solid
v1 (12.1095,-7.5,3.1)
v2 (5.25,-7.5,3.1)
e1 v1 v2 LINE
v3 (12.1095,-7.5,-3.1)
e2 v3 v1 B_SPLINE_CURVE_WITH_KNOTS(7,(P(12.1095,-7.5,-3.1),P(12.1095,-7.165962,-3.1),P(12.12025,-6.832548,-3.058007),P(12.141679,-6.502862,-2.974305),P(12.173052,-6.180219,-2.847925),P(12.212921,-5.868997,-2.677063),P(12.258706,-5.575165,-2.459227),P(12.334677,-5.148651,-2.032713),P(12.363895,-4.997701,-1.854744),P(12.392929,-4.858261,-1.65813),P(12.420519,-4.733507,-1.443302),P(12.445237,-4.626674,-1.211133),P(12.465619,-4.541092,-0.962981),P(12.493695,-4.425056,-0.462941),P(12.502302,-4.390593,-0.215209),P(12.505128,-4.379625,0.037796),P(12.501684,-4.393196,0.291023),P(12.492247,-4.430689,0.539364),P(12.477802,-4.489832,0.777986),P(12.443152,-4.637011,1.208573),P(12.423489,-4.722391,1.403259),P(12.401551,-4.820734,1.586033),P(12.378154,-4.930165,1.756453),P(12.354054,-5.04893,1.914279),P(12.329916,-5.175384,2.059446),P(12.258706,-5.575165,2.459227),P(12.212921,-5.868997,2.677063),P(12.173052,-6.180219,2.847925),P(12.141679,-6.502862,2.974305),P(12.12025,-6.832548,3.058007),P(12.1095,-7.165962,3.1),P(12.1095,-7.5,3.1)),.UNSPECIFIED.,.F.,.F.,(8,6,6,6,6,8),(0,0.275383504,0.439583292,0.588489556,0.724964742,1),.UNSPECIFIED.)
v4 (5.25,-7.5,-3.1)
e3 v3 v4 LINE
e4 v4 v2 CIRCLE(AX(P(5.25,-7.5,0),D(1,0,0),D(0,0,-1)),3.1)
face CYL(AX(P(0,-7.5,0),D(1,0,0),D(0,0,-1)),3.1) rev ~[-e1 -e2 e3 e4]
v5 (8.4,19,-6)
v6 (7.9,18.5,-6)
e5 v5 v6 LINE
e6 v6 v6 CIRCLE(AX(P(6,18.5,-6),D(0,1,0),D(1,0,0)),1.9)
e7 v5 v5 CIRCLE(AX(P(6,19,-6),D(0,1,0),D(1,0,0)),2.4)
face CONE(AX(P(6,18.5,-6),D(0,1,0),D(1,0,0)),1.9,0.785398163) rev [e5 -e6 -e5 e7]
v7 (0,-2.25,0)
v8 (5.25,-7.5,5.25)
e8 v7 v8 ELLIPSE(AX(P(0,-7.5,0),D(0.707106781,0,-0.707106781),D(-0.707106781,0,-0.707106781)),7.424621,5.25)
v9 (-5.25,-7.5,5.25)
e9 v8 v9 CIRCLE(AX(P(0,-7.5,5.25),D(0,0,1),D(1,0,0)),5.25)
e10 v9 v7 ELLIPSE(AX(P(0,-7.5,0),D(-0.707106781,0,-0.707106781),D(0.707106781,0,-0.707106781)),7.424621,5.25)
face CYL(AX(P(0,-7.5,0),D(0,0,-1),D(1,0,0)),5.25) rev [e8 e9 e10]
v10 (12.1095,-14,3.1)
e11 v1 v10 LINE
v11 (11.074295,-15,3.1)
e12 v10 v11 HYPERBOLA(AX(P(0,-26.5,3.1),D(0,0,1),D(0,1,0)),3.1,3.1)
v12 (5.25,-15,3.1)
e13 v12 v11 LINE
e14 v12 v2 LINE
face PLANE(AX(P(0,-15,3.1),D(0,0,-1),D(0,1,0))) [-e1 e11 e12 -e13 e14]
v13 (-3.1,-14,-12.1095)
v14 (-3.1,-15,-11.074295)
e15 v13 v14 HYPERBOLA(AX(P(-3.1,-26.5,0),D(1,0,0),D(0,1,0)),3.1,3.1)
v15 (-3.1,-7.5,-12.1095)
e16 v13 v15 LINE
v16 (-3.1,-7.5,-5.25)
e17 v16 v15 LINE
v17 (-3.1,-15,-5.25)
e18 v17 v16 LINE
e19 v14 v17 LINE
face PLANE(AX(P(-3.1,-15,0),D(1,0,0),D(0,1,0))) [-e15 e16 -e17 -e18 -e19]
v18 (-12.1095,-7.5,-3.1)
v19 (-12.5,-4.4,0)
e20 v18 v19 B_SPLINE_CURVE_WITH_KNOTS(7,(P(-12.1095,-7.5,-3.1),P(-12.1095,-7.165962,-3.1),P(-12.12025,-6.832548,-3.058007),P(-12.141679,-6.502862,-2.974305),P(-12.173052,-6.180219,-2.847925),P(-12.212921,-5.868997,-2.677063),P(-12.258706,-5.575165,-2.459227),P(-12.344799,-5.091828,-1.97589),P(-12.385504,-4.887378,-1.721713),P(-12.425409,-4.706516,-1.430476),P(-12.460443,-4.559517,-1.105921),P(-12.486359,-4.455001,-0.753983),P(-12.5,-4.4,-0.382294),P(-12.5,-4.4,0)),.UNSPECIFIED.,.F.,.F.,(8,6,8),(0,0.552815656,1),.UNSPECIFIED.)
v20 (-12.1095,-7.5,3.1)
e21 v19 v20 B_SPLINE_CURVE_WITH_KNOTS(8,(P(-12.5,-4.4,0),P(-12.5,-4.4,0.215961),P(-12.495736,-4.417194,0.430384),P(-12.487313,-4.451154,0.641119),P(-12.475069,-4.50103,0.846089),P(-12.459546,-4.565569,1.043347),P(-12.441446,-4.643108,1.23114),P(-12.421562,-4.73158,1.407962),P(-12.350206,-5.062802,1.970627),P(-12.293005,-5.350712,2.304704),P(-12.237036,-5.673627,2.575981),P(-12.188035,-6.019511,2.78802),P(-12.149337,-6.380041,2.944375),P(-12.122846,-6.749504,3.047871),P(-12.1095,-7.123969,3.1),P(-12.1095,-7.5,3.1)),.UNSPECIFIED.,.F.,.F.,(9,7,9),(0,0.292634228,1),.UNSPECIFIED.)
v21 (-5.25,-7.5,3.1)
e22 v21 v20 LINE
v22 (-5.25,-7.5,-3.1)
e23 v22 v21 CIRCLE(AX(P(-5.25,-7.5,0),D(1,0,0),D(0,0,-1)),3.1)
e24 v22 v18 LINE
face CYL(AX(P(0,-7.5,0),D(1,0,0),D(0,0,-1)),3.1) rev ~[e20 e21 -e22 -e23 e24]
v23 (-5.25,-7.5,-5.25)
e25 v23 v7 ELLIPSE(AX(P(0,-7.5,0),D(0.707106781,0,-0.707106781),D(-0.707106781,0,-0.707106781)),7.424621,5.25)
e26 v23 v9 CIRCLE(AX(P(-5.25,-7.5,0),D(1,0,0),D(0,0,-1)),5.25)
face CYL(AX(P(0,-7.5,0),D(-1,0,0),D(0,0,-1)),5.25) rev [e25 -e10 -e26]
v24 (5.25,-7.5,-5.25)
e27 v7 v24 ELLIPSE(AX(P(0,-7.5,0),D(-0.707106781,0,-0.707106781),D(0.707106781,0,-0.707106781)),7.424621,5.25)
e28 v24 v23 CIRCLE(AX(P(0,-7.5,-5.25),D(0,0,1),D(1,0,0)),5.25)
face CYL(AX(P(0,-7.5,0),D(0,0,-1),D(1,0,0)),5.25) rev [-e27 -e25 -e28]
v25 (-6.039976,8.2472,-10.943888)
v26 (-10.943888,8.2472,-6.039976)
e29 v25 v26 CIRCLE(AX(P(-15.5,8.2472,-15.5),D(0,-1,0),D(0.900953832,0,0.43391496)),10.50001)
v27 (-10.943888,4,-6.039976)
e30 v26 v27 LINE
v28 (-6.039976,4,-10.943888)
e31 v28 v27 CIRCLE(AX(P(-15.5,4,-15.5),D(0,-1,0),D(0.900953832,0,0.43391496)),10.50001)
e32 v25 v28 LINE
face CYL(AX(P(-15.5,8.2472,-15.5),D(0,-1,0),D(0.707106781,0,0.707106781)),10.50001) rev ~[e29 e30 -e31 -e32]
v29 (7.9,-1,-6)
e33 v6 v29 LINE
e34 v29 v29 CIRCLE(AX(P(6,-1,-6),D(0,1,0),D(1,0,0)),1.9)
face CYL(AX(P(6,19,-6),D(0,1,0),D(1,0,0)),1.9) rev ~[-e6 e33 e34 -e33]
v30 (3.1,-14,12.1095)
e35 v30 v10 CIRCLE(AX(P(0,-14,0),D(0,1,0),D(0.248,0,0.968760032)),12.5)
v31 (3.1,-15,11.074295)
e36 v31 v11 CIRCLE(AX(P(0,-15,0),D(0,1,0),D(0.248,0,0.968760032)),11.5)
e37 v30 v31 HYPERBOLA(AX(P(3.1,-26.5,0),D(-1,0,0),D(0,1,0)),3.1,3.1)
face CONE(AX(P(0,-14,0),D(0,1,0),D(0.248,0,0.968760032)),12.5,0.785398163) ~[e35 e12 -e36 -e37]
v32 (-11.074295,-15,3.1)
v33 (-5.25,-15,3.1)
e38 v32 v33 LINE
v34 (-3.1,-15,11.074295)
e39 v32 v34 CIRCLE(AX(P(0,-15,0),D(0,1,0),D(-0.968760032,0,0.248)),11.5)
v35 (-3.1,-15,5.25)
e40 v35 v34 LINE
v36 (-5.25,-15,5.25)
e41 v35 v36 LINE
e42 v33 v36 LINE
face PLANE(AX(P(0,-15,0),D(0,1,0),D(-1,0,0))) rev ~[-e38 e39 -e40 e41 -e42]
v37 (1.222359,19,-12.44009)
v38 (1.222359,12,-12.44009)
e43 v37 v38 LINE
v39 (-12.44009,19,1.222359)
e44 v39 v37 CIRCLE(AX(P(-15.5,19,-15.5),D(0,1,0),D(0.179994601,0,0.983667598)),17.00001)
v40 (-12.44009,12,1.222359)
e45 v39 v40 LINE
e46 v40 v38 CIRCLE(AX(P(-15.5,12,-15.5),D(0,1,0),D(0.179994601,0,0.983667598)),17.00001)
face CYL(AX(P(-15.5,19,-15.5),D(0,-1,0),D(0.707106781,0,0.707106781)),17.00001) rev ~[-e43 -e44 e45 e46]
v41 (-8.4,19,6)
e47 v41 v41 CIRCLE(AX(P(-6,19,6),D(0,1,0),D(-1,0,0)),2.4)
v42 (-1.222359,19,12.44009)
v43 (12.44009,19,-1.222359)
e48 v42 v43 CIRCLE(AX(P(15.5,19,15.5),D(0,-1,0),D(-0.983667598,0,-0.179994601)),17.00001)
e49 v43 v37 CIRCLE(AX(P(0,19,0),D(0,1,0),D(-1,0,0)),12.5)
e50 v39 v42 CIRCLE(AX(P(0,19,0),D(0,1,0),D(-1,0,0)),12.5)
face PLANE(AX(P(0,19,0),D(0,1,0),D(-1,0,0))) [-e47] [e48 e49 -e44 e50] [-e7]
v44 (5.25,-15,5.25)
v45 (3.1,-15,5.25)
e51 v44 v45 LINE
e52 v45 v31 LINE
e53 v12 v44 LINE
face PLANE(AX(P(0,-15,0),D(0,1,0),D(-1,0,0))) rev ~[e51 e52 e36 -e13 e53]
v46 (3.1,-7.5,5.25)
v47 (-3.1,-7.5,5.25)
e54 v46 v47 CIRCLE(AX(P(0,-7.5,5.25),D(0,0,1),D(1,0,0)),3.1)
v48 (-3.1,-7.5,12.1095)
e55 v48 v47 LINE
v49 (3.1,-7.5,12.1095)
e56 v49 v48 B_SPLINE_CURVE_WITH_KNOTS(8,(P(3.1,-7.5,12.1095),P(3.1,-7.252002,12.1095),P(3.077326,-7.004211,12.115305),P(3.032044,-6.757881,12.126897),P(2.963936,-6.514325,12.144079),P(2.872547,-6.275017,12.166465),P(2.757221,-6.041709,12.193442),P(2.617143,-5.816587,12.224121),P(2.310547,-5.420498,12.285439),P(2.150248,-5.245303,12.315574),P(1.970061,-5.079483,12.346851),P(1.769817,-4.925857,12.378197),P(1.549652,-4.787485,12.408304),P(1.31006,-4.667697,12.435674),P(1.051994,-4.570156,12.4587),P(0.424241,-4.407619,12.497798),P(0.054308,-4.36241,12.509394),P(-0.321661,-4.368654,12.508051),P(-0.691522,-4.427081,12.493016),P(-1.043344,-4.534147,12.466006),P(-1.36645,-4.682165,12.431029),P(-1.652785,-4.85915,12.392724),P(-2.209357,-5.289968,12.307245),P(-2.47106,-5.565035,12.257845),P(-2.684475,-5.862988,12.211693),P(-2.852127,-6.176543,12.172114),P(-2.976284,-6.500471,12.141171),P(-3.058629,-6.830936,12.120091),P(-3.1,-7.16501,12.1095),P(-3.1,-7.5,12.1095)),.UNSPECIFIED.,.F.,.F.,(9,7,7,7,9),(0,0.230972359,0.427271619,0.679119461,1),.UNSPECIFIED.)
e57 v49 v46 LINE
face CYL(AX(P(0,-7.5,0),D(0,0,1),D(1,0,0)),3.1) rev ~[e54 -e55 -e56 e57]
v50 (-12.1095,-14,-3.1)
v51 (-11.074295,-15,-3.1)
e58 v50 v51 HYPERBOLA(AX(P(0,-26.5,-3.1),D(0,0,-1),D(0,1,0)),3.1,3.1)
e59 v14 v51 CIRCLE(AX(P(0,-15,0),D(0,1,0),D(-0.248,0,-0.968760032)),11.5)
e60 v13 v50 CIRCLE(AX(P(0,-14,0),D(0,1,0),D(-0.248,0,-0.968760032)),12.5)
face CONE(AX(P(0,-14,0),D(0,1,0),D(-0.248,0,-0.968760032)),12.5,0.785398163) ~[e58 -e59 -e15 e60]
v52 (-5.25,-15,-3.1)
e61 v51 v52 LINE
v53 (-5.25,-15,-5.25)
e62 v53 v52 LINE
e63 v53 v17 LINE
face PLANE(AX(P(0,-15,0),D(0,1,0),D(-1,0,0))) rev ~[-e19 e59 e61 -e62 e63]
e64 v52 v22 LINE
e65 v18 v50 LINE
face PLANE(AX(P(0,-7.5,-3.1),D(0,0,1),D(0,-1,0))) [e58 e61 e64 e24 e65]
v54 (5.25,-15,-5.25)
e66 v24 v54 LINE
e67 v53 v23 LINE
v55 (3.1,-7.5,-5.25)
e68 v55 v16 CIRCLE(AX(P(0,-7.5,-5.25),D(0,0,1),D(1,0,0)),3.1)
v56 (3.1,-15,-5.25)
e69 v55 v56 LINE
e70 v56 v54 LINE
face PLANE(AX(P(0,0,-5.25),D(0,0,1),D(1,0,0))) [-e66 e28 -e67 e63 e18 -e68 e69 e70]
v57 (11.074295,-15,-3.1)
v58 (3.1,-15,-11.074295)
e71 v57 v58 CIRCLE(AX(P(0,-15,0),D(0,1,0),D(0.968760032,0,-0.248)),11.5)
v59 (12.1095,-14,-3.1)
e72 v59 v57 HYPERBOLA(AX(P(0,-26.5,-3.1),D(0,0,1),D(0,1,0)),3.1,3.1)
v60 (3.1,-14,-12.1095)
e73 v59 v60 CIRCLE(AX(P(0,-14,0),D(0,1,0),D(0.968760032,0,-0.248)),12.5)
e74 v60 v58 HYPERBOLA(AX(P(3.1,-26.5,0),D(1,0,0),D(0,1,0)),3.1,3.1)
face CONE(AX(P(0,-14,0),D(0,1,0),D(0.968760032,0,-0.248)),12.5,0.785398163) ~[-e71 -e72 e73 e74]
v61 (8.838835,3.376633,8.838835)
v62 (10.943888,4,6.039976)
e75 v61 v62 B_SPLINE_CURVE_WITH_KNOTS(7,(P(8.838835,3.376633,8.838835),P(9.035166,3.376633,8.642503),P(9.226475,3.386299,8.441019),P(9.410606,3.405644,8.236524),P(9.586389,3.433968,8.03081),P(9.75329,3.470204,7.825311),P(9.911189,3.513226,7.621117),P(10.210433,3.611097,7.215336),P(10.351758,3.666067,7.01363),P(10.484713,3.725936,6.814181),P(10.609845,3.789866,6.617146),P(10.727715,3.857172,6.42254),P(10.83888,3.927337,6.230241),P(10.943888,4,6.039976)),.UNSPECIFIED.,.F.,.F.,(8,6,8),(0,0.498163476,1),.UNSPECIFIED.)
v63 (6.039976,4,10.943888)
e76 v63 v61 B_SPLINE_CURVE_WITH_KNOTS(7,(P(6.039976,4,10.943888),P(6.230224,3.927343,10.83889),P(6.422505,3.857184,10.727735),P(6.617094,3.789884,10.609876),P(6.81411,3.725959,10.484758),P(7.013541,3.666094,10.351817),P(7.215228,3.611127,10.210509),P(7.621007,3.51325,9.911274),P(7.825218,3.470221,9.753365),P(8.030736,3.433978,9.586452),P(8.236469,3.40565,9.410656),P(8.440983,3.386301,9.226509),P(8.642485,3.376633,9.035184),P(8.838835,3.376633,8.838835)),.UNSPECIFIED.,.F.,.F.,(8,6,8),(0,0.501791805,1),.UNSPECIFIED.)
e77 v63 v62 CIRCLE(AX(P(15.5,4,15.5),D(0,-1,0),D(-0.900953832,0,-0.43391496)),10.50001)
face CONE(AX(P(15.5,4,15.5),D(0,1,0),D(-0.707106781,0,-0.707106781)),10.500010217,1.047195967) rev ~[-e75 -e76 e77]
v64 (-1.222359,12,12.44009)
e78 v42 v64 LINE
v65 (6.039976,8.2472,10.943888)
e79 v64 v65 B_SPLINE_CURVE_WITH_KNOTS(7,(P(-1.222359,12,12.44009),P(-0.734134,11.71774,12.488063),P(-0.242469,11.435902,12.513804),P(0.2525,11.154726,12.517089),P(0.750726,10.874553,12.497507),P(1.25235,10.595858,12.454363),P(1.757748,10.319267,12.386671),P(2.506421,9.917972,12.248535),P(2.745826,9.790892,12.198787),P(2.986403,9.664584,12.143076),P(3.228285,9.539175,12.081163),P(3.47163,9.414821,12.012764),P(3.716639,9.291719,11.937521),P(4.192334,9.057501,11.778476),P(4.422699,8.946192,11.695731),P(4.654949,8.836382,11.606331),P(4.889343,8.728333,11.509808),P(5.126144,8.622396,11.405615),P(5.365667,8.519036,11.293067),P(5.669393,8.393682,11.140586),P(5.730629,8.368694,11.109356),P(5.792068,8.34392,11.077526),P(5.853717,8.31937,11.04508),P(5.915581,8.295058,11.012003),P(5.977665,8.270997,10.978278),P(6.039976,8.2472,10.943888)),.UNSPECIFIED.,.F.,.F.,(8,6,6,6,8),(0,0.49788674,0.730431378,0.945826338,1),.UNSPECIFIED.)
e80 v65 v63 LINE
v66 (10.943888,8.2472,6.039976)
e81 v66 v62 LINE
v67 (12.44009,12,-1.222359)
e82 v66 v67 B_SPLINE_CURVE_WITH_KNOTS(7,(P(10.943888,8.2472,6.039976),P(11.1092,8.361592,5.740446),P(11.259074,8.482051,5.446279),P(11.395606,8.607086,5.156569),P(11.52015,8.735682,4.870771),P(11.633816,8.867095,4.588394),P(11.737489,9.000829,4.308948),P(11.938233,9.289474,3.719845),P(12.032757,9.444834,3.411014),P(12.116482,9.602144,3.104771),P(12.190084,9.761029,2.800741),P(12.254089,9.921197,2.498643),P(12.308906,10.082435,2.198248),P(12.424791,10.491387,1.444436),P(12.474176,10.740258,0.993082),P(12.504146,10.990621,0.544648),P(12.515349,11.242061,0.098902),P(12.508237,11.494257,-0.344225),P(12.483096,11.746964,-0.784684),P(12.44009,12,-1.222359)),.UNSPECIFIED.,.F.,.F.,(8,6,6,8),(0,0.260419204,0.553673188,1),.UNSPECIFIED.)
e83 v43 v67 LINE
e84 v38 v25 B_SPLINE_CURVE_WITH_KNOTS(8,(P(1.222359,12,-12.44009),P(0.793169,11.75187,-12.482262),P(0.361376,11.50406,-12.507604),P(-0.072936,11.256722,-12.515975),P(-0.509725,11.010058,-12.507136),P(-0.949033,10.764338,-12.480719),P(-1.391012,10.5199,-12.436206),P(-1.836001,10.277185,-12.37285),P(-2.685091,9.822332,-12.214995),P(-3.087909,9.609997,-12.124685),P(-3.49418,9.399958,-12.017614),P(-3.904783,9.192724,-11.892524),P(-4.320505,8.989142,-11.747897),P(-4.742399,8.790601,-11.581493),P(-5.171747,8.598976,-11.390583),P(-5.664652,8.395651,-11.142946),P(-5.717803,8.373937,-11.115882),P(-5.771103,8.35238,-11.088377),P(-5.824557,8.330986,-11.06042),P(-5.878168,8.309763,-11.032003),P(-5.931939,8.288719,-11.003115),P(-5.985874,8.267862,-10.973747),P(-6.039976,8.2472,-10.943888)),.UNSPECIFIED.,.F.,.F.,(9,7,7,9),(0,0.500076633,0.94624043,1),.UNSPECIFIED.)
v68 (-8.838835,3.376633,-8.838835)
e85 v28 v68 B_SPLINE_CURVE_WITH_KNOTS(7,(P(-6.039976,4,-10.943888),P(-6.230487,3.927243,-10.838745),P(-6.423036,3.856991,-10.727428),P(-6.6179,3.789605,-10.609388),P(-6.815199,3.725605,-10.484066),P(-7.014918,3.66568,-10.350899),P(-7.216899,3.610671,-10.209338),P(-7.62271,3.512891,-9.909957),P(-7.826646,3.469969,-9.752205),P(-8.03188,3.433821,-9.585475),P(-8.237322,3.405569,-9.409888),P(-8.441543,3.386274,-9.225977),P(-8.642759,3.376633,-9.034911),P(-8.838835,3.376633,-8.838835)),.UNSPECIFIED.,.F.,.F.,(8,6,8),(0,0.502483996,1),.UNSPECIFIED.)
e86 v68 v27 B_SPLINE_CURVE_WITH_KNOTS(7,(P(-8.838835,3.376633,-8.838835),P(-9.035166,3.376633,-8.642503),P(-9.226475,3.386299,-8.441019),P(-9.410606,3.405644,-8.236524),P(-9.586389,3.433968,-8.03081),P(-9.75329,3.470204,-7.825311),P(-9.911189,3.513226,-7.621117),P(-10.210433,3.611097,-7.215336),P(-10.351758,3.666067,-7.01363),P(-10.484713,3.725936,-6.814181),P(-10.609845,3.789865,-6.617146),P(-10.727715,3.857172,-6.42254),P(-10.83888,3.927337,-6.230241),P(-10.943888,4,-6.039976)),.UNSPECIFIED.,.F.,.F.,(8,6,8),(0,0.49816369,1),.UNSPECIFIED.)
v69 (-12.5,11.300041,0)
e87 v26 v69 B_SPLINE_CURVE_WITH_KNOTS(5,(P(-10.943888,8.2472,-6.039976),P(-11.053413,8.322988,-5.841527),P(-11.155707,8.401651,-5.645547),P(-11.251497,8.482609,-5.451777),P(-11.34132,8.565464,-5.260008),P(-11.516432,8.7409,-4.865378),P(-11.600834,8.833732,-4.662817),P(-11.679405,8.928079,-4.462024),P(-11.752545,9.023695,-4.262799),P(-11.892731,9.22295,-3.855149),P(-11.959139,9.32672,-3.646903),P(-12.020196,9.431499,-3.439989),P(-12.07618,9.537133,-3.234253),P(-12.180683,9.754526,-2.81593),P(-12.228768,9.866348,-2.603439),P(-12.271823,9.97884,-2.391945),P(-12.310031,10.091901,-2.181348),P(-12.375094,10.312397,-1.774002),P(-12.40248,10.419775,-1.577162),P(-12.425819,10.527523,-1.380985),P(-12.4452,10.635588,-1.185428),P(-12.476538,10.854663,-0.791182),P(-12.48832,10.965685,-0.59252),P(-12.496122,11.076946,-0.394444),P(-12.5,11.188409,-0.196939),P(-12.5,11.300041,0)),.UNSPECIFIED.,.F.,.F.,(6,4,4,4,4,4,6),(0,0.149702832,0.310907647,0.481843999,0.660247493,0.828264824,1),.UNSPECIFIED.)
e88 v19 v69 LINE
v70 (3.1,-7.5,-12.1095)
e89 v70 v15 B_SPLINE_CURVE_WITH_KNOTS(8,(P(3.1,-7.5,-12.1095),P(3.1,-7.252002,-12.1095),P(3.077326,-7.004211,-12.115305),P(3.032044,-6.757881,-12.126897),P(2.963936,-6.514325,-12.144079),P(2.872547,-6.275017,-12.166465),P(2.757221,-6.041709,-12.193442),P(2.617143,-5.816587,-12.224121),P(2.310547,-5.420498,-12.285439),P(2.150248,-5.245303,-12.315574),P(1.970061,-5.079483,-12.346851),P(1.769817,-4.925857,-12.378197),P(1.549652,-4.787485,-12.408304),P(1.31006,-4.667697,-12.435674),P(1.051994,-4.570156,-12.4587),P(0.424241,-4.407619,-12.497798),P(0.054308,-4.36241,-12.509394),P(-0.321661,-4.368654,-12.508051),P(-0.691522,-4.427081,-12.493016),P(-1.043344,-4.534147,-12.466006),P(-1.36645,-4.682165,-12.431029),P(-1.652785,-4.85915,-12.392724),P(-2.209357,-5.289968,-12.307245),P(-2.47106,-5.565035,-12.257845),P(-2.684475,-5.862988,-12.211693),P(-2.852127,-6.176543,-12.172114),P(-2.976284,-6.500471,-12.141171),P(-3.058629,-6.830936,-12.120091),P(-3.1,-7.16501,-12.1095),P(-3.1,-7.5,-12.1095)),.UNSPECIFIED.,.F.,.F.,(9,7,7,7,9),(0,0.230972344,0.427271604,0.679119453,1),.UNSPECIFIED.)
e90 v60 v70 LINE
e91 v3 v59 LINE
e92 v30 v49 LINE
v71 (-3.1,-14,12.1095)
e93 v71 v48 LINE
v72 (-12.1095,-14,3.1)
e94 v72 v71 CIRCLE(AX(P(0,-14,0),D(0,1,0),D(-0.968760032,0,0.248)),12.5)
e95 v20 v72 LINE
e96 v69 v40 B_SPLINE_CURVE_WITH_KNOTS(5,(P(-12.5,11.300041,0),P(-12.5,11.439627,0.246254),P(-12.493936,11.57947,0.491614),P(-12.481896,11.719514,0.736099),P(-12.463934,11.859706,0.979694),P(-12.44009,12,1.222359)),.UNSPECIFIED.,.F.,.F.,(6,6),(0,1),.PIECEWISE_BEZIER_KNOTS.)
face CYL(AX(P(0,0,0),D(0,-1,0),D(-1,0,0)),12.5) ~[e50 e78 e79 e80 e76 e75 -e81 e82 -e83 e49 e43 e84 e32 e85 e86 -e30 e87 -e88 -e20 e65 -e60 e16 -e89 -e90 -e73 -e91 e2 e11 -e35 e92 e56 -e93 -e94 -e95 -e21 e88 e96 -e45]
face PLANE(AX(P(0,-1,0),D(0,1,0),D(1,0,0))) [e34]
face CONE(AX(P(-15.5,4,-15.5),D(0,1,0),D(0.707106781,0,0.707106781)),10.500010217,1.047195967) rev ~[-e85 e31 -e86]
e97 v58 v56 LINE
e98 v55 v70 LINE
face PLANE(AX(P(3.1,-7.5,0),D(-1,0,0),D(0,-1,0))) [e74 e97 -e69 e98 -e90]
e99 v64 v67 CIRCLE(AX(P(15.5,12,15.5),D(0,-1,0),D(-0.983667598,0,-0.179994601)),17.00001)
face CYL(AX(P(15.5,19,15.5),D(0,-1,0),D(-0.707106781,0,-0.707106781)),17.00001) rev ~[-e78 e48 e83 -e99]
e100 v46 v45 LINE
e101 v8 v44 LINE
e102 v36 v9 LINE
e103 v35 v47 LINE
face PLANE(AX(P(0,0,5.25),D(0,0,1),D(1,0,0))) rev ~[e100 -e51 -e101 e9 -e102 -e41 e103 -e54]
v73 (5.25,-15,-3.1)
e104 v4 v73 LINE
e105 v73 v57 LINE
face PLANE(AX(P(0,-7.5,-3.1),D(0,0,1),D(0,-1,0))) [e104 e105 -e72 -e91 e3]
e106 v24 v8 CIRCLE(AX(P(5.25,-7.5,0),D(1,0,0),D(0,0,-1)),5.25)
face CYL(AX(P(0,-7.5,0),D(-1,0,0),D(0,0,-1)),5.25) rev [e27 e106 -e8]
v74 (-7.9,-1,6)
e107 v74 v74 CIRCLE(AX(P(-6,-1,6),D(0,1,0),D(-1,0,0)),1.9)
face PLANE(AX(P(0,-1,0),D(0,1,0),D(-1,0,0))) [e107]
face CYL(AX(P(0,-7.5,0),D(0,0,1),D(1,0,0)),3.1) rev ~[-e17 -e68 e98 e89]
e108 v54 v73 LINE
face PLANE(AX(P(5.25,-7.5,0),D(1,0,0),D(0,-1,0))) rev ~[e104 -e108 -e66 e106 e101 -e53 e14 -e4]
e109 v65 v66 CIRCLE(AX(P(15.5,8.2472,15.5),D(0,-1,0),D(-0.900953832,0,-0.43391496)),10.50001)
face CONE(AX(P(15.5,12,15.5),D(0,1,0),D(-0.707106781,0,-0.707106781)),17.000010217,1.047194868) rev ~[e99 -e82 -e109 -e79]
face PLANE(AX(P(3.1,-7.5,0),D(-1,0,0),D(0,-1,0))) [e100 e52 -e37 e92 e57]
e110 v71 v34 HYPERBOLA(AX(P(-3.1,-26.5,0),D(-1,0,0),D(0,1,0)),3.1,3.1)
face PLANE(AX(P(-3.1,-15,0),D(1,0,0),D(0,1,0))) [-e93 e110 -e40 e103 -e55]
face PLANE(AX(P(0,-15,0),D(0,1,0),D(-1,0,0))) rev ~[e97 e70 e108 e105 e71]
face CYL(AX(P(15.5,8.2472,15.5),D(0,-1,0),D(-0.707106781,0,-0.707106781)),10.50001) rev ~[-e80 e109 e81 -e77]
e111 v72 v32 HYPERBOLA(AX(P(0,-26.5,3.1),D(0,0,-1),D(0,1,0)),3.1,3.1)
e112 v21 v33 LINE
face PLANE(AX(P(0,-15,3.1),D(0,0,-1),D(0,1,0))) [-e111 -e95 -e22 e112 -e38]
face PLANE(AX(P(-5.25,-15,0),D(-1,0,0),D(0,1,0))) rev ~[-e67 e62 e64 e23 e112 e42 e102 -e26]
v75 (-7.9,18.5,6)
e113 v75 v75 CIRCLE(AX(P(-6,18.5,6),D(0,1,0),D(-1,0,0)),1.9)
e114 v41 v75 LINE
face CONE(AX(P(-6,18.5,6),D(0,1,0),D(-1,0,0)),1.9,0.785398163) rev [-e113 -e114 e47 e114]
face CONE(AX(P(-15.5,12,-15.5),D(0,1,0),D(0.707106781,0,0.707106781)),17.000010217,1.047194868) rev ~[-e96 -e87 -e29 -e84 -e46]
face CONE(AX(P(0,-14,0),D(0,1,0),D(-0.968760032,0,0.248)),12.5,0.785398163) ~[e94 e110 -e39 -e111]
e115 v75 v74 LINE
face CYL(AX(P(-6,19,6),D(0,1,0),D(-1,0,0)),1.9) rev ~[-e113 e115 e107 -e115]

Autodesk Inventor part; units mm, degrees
ref_plane "XZ Plane" through (0, 0, 0) normal (0, 1, 0) x (-1, 0, 0)
sketch "Sketch1" plane through (0, 0, 0) normal (0, 1, 0) x (-1, 0, 0)
  circle A0 centre (0, 0) radius 12.5
  dimension "d0" = 25
extrude "Extrusion1" add sketch "Sketch1" along normal blind 19 and the other way blind 15
sketch "Sketch2" plane through (0, 0, 0) normal (0, 0, 1) x (1, 0, 0)
  line L0 (-5.25, -15) -> (-5.25, -7.5)
  arc A0 (5.25, -7.5) -> (-5.25, -7.5) centre (0, -7.5) ccw
  line L1 (5.25, -7.5) -> (5.25, -15)
  line L2 (5.25, -15) -> (-5.25, -15)
  line L3 (-3.1, -15) -> (-3.1, -7.5)
  arc A1 (3.1, -7.5) -> (-3.1, -7.5) centre (0, -7.5) ccw
  line L4 (3.1, -7.5) -> (3.1, -15)
  line L5 (0, 0) -> (0, -15) construction
  line L6 (-12.5, -15) -> (12.5, -15) projected
  point P0 (0, -7.5)
  dimension "d5" = 10.5
  dimension "d6" = 6.2
extrude "Extrusion2" cut sketch "Sketch2" along normal mid plane 10.5
extrude "Extrusion3" cut sketch "Sketch2" against normal through all both and the other way through all contours L3 A1 L4 L2
pattern_circular "Circular Pattern1" count 2 over 90 about axis through (0, -10, 0) along (0, 1, 0) of "Extrusion2", "Extrusion3"
ref_plane "Work Plane2" through (0, 0, 0) normal (0.7071, 0, -0.7071) x (0, 1, 0)
sketch "Sketch5" plane through (0, 0, 0) normal (0.7071, 0, -0.7071) x (0, 1, 0)
  line L0 (19, -21.9203) -> (-2.0622, -21.9203)
  line L1 (-21.8122, 0) -> (25.8729, 0) projected
  line L2 (19, -12.5) -> (19, 12.5) projected
  line L3 (19, -21.9203) -> (19, -4.9203)
  line L4 (19, -4.9203) -> (12, -4.9203)
  line L5 (12, -4.9203) -> (8.2472, -11.4203)
  line L6 (8.2472, -11.4203) -> (4, -11.4203)
  line L7 (4, -11.4203) -> (-2.0622, -21.9203)
  point P0 (0, 0)
  dimension "d40" = 21.9203
  dimension "d41" = 34
  dimension "d42" = 7
  dimension "d43" = 21
  dimension "d44" = 15
  dimension "d45" = 60
revolve "Revolution1" cut sketch "Sketch5" angle 360 about axis through (-15.5, 19, -15.5) along (0, -1, 0)
sketch "Sketch6" plane through (0, 19, 0) normal (0, 1, 0) x (1, 0, 0)
  circle A0 centre (6, 6) radius 1.9
  point P0 (0, 0)
  dimension "d47" = 3.8
  dimension "d48" = 6
  dimension "d49" = 6
extrude "Extrusion9" cut sketch "Sketch6" against normal blind 20
chamfer "Chamfer2" distance 0.5 angle 45 1 edges at (4.1, 19, -6)
pattern_circular "Circular Pattern4" count 2 over 360 about axis through (0, -10, 0) along (0, 1, 0) of "Revolution1", "Extrusion9", "Chamfer2"
chamfer "Chamfer1" distance 1 angle 45 4 edges at (8.8388, -15, 8.8388) (-8.8388, -15, 8.8388) (-8.8388, -15, -8.8388) (8.8388, -15, -8.8388)
equation "\"d49\" = d48"
properties part number "mount-stem_3DPrint"
